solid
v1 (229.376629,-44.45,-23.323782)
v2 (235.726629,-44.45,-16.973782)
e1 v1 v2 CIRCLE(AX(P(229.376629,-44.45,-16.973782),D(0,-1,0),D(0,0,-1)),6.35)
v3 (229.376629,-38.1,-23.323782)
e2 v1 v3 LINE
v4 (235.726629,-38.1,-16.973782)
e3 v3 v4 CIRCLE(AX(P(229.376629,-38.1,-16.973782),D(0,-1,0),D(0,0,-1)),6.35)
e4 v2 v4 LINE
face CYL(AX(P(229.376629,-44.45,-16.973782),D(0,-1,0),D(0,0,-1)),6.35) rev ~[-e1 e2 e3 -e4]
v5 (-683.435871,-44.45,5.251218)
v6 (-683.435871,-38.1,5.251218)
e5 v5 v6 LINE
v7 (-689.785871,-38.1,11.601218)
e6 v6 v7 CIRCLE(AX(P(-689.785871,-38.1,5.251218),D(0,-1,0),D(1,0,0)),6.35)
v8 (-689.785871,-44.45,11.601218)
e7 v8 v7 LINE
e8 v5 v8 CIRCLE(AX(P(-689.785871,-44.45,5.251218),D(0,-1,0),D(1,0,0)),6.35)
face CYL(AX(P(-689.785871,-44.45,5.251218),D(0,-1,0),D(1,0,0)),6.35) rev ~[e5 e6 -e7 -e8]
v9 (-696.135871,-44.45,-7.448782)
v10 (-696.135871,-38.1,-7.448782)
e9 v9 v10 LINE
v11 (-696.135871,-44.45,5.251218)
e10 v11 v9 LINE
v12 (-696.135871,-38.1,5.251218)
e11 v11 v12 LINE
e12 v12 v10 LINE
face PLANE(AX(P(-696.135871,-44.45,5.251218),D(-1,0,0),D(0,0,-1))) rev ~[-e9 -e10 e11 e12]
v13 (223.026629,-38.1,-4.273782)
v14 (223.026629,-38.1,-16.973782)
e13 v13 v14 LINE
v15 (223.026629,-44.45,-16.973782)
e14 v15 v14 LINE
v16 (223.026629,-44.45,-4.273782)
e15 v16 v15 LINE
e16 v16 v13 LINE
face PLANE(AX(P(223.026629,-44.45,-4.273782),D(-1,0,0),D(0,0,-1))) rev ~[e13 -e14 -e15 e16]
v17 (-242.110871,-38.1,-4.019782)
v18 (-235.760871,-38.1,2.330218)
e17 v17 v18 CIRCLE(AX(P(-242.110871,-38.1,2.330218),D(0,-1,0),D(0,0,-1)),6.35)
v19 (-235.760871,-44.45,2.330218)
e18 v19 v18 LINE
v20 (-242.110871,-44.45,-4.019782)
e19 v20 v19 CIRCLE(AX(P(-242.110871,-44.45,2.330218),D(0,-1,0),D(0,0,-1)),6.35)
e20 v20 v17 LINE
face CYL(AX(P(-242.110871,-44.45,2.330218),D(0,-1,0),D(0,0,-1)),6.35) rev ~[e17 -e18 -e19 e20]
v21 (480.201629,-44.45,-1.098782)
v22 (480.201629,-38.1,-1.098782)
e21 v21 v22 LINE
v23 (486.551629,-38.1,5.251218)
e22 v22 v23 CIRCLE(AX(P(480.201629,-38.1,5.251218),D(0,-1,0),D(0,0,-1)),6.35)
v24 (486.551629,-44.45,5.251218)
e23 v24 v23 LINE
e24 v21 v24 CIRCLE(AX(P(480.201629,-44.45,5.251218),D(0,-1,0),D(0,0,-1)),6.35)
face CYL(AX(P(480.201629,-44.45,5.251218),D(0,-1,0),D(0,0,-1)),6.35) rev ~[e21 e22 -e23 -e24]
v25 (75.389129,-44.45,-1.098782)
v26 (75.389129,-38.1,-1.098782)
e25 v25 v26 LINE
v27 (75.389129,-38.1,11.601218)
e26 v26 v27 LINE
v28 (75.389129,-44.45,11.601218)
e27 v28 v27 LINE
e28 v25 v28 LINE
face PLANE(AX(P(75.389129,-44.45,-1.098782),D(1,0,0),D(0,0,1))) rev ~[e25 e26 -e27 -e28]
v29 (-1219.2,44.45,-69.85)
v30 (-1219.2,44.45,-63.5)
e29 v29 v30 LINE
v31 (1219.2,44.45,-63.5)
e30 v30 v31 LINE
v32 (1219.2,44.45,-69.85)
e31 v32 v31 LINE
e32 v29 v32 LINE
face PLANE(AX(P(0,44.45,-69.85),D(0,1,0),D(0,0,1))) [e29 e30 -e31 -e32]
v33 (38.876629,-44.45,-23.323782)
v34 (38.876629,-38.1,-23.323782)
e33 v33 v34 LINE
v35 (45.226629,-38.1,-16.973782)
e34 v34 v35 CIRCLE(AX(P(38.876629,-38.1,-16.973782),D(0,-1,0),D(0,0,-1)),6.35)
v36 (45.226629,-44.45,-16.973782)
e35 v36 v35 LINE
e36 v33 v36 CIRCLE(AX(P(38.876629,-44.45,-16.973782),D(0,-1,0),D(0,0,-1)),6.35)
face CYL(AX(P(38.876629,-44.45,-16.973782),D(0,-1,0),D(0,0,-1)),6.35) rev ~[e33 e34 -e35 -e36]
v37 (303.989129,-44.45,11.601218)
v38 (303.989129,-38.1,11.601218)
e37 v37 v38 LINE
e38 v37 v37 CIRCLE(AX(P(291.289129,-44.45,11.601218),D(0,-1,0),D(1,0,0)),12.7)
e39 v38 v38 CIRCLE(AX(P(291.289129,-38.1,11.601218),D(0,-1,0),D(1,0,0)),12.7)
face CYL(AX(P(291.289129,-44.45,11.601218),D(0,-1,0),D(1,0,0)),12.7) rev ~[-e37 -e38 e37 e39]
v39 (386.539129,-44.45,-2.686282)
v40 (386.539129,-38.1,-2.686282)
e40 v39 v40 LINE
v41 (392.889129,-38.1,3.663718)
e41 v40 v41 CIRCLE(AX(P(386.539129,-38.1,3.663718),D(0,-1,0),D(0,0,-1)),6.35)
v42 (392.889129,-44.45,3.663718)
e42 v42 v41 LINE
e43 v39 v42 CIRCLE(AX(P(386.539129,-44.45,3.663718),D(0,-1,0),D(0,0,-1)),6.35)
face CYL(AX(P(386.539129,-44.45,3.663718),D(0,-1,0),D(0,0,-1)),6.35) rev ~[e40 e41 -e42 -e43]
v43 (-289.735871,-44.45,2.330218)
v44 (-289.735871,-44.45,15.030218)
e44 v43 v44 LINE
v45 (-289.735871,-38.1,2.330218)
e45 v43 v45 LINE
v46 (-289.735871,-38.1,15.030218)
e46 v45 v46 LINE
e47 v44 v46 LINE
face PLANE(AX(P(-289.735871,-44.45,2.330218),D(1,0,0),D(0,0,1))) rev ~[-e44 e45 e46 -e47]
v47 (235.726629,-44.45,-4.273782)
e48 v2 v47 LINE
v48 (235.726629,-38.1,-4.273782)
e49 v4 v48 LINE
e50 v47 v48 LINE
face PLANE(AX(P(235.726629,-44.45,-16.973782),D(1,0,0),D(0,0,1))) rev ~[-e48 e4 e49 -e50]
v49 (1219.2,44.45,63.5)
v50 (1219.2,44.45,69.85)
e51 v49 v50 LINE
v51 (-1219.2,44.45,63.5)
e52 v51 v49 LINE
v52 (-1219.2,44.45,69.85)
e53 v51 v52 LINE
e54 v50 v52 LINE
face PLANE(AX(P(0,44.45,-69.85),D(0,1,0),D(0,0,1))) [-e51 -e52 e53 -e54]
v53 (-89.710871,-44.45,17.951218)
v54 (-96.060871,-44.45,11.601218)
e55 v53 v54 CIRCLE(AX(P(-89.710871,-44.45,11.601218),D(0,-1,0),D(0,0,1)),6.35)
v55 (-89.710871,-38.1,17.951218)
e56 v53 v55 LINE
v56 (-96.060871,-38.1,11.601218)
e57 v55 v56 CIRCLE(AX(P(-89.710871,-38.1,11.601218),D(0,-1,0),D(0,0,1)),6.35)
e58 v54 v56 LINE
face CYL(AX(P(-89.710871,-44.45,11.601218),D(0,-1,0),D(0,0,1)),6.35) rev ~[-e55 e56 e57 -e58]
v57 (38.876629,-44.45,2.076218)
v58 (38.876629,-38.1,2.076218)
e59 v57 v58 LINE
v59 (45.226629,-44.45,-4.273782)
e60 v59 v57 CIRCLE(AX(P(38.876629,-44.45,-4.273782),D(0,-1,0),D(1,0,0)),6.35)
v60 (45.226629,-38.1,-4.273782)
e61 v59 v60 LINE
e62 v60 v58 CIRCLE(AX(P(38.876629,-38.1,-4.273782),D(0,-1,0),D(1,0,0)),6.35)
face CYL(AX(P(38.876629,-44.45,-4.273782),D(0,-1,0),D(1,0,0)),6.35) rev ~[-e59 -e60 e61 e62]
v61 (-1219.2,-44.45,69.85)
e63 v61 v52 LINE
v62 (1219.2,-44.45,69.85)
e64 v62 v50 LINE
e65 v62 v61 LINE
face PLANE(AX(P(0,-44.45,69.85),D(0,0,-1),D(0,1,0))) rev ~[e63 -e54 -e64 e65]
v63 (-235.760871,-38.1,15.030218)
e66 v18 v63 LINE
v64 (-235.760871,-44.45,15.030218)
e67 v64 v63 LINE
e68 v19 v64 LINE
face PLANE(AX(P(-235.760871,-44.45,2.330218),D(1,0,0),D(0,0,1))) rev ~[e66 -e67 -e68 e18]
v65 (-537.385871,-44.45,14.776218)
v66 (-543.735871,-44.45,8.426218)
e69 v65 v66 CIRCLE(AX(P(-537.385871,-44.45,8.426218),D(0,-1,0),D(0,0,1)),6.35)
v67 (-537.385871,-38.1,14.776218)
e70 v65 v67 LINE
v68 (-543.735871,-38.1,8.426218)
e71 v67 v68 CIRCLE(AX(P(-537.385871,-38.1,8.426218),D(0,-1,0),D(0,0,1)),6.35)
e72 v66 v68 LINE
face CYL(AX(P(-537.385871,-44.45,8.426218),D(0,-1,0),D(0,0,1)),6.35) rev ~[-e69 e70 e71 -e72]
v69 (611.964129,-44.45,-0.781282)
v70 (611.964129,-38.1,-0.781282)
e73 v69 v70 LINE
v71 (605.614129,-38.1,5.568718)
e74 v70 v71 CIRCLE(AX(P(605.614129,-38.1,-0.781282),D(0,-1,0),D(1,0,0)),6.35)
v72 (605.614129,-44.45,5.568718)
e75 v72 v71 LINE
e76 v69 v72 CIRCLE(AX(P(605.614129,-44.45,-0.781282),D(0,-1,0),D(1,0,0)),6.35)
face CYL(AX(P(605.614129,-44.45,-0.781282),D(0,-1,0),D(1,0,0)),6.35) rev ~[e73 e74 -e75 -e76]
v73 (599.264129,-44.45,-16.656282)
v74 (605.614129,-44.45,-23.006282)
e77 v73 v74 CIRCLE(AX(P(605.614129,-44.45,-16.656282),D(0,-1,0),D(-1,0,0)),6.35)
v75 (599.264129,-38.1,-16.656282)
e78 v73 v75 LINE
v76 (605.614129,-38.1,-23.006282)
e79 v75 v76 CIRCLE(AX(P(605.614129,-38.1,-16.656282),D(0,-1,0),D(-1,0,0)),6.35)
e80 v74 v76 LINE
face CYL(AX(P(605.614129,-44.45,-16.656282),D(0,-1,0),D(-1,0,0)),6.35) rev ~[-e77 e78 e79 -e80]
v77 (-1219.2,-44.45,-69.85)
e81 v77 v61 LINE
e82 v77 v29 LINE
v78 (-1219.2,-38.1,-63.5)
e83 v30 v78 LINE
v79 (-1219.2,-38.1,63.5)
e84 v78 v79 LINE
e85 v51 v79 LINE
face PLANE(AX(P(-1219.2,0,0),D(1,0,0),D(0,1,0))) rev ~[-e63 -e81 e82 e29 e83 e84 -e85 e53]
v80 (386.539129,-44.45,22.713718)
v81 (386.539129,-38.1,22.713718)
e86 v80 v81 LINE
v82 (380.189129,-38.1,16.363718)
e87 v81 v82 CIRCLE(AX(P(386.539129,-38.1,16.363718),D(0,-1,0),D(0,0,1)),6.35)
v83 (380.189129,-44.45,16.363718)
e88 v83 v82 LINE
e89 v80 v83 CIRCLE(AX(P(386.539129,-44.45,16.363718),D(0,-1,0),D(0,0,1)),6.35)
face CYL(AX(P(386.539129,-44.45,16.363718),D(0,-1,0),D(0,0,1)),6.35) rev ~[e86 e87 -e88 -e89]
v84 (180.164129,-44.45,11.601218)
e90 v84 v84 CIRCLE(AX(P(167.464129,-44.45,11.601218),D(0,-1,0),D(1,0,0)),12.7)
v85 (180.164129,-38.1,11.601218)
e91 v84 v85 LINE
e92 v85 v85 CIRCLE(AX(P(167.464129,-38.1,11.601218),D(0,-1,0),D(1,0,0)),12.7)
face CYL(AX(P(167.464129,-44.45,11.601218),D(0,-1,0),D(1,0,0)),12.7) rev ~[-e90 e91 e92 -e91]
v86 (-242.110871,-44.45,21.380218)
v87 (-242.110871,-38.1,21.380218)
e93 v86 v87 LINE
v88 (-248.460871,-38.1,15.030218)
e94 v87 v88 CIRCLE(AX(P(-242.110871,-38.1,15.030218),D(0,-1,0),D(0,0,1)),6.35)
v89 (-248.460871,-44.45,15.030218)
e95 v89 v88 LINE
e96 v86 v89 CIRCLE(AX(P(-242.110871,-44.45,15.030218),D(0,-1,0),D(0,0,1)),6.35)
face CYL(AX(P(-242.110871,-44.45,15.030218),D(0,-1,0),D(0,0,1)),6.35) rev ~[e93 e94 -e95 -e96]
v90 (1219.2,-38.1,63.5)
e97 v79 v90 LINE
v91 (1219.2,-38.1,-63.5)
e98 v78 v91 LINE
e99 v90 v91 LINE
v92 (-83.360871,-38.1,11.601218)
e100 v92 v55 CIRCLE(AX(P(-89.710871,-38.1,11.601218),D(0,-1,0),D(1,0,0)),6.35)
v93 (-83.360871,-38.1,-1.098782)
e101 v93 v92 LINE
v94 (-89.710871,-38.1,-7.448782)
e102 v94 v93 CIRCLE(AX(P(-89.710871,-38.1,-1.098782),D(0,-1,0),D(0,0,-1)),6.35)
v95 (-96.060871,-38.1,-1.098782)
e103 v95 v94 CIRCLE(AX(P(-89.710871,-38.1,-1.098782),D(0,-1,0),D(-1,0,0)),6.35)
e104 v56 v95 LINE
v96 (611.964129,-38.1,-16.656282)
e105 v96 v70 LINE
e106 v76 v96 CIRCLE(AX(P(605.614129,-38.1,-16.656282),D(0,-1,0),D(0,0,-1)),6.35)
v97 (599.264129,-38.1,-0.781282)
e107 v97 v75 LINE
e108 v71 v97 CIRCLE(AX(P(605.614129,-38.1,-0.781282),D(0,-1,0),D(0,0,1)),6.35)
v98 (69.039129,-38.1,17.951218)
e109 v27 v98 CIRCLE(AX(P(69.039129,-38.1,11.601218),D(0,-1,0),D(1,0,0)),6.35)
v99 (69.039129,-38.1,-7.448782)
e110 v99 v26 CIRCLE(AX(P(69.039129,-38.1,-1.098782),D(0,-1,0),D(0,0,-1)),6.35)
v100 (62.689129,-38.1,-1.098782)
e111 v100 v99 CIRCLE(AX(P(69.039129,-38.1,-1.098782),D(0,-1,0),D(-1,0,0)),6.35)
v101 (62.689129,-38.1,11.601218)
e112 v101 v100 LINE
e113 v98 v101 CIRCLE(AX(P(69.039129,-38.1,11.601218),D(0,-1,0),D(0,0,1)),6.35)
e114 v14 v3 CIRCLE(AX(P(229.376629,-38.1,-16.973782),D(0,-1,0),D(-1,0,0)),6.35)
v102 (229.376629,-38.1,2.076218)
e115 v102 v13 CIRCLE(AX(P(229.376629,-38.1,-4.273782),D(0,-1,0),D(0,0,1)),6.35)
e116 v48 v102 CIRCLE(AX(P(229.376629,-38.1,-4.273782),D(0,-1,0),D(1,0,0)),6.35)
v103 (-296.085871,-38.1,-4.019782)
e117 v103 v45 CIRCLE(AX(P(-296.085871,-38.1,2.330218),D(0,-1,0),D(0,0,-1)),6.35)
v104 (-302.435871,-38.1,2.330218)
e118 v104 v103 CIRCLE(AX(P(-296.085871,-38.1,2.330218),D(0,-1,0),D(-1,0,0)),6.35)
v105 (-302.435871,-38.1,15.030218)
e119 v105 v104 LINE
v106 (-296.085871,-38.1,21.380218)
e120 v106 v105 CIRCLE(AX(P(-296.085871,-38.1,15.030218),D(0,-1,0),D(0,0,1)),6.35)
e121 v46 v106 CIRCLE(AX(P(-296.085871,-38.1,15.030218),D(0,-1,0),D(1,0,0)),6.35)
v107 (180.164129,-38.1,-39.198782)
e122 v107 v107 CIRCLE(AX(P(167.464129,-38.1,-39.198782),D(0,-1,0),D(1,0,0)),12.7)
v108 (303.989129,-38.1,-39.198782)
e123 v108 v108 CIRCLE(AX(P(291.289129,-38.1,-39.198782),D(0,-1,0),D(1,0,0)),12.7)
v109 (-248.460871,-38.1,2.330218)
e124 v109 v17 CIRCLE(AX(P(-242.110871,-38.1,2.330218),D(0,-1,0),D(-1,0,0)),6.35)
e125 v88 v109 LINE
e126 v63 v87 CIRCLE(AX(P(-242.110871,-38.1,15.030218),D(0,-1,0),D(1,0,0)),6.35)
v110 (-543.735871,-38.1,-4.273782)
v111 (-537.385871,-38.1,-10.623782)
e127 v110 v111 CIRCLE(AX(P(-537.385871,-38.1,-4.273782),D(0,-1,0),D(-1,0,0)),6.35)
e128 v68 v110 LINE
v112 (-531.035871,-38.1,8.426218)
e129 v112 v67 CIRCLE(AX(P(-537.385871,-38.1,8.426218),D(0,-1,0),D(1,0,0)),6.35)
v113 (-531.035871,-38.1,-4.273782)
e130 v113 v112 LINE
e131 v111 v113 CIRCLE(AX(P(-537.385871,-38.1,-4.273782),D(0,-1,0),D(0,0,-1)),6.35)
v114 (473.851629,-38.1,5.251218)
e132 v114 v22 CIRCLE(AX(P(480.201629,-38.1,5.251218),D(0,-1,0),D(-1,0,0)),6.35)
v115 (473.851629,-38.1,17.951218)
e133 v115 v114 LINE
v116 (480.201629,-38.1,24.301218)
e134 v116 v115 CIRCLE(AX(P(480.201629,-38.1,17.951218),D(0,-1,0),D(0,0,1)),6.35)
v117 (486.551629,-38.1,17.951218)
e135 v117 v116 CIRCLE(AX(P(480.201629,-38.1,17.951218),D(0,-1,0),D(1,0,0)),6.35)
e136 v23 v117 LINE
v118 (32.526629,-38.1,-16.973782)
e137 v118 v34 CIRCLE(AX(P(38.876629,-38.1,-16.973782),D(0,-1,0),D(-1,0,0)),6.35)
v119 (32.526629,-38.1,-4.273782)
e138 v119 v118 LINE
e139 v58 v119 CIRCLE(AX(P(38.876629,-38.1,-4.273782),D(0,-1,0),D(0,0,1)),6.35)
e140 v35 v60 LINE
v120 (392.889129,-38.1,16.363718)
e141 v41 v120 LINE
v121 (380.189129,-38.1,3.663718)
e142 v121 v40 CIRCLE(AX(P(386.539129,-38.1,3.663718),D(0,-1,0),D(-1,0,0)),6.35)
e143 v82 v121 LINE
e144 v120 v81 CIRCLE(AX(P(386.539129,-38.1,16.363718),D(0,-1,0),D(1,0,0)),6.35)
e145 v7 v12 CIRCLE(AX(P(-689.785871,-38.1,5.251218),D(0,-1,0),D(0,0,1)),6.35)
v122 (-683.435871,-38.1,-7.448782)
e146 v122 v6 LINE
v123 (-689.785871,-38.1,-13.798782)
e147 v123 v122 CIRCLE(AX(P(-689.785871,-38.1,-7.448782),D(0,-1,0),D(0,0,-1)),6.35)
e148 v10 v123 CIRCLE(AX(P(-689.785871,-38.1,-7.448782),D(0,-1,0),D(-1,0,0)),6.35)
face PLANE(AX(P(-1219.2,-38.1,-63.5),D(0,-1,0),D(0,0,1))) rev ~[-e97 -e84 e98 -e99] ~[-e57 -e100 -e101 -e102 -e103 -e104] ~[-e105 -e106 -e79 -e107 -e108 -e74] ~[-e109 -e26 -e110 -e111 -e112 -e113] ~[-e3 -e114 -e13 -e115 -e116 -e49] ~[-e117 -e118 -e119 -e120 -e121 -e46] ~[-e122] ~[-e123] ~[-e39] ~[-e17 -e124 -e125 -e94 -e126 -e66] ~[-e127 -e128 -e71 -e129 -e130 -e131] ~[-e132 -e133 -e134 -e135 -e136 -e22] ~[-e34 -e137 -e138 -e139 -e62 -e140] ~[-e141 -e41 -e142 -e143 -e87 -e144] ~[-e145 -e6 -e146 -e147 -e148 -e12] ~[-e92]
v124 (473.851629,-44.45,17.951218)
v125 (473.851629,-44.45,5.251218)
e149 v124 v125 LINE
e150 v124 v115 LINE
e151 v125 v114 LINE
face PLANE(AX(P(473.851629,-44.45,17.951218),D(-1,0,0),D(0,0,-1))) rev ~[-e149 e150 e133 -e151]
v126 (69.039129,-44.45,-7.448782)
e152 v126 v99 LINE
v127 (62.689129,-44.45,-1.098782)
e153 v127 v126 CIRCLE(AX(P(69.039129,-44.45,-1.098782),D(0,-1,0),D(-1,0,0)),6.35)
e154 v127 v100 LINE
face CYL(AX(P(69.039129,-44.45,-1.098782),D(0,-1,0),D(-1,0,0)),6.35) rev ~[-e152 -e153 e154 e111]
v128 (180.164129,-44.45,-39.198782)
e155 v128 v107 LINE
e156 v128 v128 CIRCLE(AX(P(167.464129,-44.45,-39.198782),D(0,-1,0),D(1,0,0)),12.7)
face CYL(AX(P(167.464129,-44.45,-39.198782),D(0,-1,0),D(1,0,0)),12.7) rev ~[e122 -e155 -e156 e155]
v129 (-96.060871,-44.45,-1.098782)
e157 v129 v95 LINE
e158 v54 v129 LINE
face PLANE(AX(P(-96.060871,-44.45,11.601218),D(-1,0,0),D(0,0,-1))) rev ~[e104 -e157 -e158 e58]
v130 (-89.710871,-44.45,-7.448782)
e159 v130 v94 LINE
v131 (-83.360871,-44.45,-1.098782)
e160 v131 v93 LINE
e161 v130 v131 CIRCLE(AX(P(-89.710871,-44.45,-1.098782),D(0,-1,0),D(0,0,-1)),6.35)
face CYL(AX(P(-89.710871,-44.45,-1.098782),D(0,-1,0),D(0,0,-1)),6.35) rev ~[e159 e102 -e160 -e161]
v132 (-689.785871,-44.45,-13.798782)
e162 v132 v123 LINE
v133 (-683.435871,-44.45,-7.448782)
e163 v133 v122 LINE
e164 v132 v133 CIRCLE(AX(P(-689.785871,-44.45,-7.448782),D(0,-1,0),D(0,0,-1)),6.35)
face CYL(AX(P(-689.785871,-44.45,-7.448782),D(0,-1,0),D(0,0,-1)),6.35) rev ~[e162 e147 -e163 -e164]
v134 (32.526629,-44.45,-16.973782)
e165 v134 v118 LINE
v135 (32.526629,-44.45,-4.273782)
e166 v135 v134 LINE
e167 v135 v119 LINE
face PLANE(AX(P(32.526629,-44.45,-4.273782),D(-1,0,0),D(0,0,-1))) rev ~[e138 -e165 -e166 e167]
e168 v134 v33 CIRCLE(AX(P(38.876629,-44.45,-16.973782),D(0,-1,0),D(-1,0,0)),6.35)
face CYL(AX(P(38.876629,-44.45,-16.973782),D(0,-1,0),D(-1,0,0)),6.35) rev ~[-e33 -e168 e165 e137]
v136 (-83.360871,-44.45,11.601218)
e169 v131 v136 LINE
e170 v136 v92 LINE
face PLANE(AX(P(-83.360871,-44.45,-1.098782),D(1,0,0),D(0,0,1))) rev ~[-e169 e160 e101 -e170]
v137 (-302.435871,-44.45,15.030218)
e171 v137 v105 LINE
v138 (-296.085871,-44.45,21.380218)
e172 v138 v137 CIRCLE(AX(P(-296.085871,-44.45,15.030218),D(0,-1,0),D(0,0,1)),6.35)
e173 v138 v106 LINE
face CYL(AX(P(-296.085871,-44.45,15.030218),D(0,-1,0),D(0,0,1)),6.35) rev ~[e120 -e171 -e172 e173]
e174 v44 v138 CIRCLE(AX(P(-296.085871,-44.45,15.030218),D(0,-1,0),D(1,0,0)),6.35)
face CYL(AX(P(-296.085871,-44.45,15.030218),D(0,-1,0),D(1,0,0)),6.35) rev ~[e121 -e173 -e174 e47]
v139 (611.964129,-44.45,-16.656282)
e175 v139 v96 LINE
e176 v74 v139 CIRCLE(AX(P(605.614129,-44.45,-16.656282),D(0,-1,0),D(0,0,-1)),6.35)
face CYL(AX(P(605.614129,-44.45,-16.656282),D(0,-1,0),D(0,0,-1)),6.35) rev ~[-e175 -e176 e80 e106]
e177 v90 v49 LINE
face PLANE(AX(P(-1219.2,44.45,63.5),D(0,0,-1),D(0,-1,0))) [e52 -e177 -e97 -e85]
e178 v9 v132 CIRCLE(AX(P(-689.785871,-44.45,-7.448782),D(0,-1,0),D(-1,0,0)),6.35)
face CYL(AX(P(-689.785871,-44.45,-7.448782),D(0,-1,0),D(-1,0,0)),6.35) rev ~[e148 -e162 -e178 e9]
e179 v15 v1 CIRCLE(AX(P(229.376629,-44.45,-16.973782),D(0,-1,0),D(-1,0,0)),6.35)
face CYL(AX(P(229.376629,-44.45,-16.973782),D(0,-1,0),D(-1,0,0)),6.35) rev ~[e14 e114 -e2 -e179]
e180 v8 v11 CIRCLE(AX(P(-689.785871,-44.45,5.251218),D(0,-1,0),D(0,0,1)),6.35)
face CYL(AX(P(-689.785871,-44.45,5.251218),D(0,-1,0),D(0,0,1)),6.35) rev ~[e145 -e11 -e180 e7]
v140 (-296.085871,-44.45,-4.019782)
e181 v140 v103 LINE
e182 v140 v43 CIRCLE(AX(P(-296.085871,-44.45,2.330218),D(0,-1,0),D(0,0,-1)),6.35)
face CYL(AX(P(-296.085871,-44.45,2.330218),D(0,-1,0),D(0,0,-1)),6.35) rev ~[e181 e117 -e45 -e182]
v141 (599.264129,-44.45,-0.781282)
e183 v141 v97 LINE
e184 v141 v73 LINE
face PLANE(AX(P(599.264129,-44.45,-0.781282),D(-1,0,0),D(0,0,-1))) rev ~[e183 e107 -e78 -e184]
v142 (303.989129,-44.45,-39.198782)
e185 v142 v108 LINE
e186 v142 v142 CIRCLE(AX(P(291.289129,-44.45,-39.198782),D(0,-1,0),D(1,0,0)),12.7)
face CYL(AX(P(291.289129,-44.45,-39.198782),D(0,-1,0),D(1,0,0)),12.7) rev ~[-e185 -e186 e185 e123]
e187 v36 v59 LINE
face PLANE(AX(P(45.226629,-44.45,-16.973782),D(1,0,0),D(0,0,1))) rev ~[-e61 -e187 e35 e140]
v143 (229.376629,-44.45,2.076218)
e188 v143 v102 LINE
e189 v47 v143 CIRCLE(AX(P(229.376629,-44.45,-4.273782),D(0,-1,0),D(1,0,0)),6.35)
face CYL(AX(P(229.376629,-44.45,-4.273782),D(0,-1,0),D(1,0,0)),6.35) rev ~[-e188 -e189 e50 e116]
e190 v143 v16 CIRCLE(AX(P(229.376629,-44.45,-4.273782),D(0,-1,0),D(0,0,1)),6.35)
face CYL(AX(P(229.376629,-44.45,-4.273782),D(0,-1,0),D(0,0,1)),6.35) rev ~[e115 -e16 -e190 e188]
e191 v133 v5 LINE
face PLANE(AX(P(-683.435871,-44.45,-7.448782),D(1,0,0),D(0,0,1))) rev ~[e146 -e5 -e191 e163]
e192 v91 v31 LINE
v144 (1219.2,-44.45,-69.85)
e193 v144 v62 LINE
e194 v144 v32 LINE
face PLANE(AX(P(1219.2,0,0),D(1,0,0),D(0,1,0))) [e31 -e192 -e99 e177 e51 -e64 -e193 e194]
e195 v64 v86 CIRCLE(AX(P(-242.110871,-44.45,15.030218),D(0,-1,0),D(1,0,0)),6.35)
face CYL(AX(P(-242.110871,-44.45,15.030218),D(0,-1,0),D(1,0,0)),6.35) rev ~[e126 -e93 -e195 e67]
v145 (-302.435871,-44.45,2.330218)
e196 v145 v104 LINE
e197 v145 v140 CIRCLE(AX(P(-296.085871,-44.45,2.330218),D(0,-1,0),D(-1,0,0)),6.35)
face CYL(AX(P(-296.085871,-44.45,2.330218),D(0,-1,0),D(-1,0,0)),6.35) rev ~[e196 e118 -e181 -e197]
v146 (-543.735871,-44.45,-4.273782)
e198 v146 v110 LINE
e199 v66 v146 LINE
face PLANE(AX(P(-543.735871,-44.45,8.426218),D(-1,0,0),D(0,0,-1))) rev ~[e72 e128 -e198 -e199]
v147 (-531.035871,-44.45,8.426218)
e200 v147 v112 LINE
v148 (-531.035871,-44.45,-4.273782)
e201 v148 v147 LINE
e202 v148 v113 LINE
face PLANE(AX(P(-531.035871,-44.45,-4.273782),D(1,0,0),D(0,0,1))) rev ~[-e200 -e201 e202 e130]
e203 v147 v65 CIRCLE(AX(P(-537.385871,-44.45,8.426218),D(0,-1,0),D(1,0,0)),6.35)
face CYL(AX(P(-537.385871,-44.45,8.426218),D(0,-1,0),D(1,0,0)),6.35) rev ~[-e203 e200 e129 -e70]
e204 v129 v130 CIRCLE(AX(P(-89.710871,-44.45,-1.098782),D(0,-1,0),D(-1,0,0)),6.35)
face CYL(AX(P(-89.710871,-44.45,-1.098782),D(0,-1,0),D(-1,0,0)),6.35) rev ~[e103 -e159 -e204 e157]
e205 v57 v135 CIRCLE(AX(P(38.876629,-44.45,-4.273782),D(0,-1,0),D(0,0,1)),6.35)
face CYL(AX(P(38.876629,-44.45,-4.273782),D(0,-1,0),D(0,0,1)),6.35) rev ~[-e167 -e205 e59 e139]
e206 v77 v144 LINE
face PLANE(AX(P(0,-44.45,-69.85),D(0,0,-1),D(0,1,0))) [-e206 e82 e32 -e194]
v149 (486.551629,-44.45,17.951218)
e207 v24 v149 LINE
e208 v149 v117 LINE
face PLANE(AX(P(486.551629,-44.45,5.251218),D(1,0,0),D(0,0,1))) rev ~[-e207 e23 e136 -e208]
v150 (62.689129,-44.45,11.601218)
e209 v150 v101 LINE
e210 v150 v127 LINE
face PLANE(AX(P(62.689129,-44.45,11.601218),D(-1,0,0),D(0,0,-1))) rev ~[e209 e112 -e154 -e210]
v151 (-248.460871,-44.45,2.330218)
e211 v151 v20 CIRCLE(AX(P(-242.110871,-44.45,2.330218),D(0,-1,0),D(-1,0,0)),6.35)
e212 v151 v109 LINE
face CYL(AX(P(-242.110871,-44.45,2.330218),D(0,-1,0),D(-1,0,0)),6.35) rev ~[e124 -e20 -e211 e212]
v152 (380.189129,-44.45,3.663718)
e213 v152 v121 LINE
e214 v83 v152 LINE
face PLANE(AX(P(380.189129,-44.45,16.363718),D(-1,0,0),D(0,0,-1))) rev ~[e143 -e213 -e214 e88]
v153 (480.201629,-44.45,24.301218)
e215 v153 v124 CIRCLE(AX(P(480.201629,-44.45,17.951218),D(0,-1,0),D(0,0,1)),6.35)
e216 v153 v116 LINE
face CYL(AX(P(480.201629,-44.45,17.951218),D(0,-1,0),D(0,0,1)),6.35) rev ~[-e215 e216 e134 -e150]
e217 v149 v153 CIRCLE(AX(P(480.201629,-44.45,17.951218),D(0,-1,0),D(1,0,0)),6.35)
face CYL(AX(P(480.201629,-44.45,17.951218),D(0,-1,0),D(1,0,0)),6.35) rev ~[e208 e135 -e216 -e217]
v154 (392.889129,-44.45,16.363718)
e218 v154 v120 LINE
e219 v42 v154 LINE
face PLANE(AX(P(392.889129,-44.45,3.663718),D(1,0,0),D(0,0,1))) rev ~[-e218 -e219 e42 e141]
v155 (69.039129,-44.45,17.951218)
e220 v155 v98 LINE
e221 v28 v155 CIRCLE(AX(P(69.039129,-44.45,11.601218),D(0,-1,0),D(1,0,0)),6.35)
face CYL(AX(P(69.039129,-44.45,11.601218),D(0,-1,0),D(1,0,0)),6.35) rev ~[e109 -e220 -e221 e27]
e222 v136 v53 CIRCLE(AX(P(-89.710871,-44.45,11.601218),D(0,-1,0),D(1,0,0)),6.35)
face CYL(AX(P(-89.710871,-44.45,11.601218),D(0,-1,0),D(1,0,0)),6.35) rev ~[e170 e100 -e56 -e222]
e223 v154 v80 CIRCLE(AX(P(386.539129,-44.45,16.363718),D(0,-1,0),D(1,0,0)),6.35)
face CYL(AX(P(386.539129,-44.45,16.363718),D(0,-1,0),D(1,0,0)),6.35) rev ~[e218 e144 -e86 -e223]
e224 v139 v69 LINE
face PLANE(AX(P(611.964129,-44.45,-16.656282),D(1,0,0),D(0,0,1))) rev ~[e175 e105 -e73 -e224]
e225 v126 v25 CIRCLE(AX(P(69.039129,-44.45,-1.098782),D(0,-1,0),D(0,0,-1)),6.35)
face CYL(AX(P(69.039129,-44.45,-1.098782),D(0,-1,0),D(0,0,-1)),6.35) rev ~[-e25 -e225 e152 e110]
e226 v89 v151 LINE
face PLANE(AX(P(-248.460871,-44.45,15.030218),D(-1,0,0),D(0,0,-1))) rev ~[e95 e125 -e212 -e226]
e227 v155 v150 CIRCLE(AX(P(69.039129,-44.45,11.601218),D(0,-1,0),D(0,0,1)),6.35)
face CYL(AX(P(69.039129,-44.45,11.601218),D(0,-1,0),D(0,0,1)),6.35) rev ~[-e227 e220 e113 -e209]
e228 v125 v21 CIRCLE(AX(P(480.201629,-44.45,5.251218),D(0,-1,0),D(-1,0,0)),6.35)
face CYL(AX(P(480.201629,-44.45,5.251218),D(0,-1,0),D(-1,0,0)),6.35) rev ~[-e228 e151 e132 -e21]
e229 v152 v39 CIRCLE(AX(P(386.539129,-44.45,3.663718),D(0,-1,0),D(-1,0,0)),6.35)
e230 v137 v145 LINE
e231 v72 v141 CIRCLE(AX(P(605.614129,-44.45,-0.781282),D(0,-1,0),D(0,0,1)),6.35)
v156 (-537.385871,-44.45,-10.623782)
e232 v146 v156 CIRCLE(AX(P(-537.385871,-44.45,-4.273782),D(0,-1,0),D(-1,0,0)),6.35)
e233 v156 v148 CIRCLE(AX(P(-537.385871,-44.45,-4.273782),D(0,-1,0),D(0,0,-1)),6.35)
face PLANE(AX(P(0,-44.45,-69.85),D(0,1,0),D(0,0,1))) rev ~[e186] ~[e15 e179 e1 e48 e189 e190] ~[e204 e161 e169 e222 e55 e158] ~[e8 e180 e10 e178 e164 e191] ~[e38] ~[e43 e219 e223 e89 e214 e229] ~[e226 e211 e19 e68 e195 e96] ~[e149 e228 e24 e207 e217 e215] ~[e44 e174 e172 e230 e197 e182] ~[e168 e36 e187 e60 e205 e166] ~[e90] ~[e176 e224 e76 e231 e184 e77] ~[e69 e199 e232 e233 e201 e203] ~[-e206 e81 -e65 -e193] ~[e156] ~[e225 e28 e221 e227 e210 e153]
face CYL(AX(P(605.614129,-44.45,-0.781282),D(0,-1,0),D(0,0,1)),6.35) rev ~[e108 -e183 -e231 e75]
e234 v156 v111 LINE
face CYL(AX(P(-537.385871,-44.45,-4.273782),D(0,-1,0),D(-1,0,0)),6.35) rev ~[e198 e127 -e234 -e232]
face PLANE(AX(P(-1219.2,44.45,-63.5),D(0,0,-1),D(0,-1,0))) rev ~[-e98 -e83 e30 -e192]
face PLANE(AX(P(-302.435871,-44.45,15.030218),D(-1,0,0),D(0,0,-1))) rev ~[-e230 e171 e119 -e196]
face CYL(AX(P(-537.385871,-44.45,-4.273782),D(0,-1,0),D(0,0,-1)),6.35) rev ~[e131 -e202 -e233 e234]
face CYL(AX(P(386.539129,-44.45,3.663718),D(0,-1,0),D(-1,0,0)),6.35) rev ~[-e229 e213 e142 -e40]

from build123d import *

# Parameters (mm, degrees)
F0_W     = 88.9
F0_H     = 139.7
F1_DEPTH = 1219.2
F2_W     = 82.55
F2_H     = 127
F3_DEPTH = 2438.401
F4_R     = 12.7
F5_DEPTH = 88.901


with BuildPart() as f1:
    # F0 (on Right) → F1 (new body, symmetric)
    with BuildSketch(Plane.YZ):
        Rectangle(F0_W, F0_H)
    extrude(amount=F1_DEPTH, both=True)

    # F2 (on face) → F3 (cut, through all)
    with BuildSketch(Plane(origin=(-1219.2, 0, 0), x_dir=(0, -1, 0), z_dir=(-1, 0, 0))):
        with Locations((-3.175, 0)):
            Rectangle(F2_W, F2_H)
    extrude(amount=-F3_DEPTH, mode=Mode.SUBTRACT)

    # F4 (on face) → F5 (cut, through all)
    with BuildSketch(Plane.XZ.offset(44.45)):
        with BuildLine():
            ThreePointArc((-689.7858705791, 11.6012184261), (-694.2759986397, 9.7413464866), (-696.1358705791, 5.2512184261))
            Line((-696.1358705791, 5.2512184261), (-696.1358705791, -7.4487815739))
            ThreePointArc((-696.1358705791, -7.4487815739), (-694.2759986397, -11.9389096344), (-689.7858705791, -13.7987815739))
            ThreePointArc((-689.7858705791, -13.7987815739), (-685.2957425186, -11.9389096344), (-683.4358705791, -7.4487815739))
            Line((-683.4358705791, -7.4487815739), (-683.4358705791, 5.2512184261))
            ThreePointArc((-683.4358705791, 5.2512184261), (-685.2957425186, 9.7413464866), (-689.7858705791, 11.6012184261))
        make_face()
        with BuildLine():
            ThreePointArc((-537.3858705791, 14.7762184261), (-541.8759986397, 12.9163464866), (-543.7358705791, 8.4262184261))
            Line((-543.7358705791, 8.4262184261), (-543.7358705791, -4.2737815739))
            ThreePointArc((-543.7358705791, -4.2737815739), (-541.8759986397, -8.7639096344), (-537.3858705791, -10.6237815739))
            ThreePointArc((-537.3858705791, -10.6237815739), (-532.8957425186, -8.7639096344), (-531.0358705791, -4.2737815739))
            Line((-531.0358705791, -4.2737815739), (-531.0358705791, 8.4262184261))
            ThreePointArc((-531.0358705791, 8.4262184261), (-532.8957425186, 12.9163464866), (-537.3858705791, 14.7762184261))
        make_face()
        with BuildLine():
            ThreePointArc((-296.0858705791, 21.3802184261), (-300.5759986397, 19.5203464866), (-302.4358705791, 15.0302184261))
            Line((-302.4358705791, 15.0302184261), (-302.4358705791, 2.3302184261))
            ThreePointArc((-302.4358705791, 2.3302184261), (-300.5759986397, -2.1599096344), (-296.0858705791, -4.0197815739))
            ThreePointArc((-296.0858705791, -4.0197815739), (-291.5957425186, -2.1599096344), (-289.7358705791, 2.3302184261))
            Line((-289.7358705791, 2.3302184261), (-289.7358705791, 15.0302184261))
            ThreePointArc((-289.7358705791, 15.0302184261), (-291.5957425186, 19.5203464866), (-296.0858705791, 21.3802184261))
        make_face()
        with BuildLine():
            ThreePointArc((-242.1108705791, 21.3802184261), (-246.6009986397, 19.5203464866), (-248.4608705791, 15.0302184261))
            Line((-248.4608705791, 15.0302184261), (-248.4608705791, 2.3302184261))
            ThreePointArc((-248.4608705791, 2.3302184261), (-246.6009986397, -2.1599096344), (-242.1108705791, -4.0197815739))
            ThreePointArc((-242.1108705791, -4.0197815739), (-237.6207425186, -2.1599096344), (-235.7608705791, 2.3302184261))
            Line((-235.7608705791, 2.3302184261), (-235.7608705791, 15.0302184261))
            ThreePointArc((-235.7608705791, 15.0302184261), (-237.6207425186, 19.5203464866), (-242.1108705791, 21.3802184261))
        make_face()
        with BuildLine():
            ThreePointArc((-89.7108705791, 17.9512184261), (-94.2009986397, 16.0913464866), (-96.0608705791, 11.6012184261))
            Line((-96.0608705791, 11.6012184261), (-96.0608705791, -1.0987815739))
            ThreePointArc((-96.0608705791, -1.0987815739), (-94.2009986397, -5.5889096344), (-89.7108705791, -7.4487815739))
            ThreePointArc((-89.7108705791, -7.4487815739), (-85.2207425186, -5.5889096344), (-83.3608705791, -1.0987815739))
            Line((-83.3608705791, -1.0987815739), (-83.3608705791, 11.6012184261))
            ThreePointArc((-83.3608705791, 11.6012184261), (-85.2207425186, 16.0913464866), (-89.7108705791, 17.9512184261))
        make_face()
        with BuildLine():
            ThreePointArc((38.8766294209, 2.0762184261), (34.3865013603, 0.2163464866), (32.5266294209, -4.2737815739))
            Line((32.5266294209, -4.2737815739), (32.5266294209, -16.9737815739))
            ThreePointArc((32.5266294209, -16.9737815739), (34.3865013603, -21.4639096344), (38.8766294209, -23.3237815739))
            ThreePointArc((38.8766294209, -23.3237815739), (43.3667574814, -21.4639096344), (45.2266294209, -16.9737815739))
            Line((45.2266294209, -16.9737815739), (45.2266294209, -4.2737815739))
            ThreePointArc((45.2266294209, -4.2737815739), (43.3667574814, 0.2163464866), (38.8766294209, 2.0762184261))
        make_face()
        with BuildLine():
            ThreePointArc((69.0391294209, 17.9512184261), (64.5490013603, 16.0913464866), (62.6891294209, 11.6012184261))
            Line((62.6891294209, 11.6012184261), (62.6891294209, -1.0987815739))
            ThreePointArc((62.6891294209, -1.0987815739), (64.5490013603, -5.5889096344), (69.0391294209, -7.4487815739))
            ThreePointArc((69.0391294209, -7.4487815739), (73.5292574814, -5.5889096344), (75.3891294209, -1.0987815739))
            Line((75.3891294209, -1.0987815739), (75.3891294209, 11.6012184261))
            ThreePointArc((75.3891294209, 11.6012184261), (73.5292574814, 16.0913464866), (69.0391294209, 17.9512184261))
        make_face()
        with BuildLine():
            ThreePointArc((229.3766294209, 2.0762184261), (224.8865013603, 0.2163464866), (223.0266294209, -4.2737815739))
            Line((223.0266294209, -4.2737815739), (223.0266294209, -16.9737815739))
            ThreePointArc((223.0266294209, -16.9737815739), (224.8865013603, -21.4639096344), (229.3766294209, -23.3237815739))
            ThreePointArc((229.3766294209, -23.3237815739), (233.8667574814, -21.4639096344), (235.7266294209, -16.9737815739))
            Line((235.7266294209, -16.9737815739), (235.7266294209, -4.2737815739))
            ThreePointArc((235.7266294209, -4.2737815739), (233.8667574814, 0.2163464866), (229.3766294209, 2.0762184261))
        make_face()
        with BuildLine():
            ThreePointArc((386.5391294209, 22.7137184261), (382.0490013603, 20.8538464866), (380.1891294209, 16.3637184261))
            Line((380.1891294209, 16.3637184261), (380.1891294209, 3.6637184261))
            ThreePointArc((380.1891294209, 3.6637184261), (382.0490013603, -0.8264096344), (386.5391294209, -2.6862815739))
            ThreePointArc((386.5391294209, -2.6862815739), (391.0292574814, -0.8264096344), (392.8891294209, 3.6637184261))
            Line((392.8891294209, 3.6637184261), (392.8891294209, 16.3637184261))
            ThreePointArc((392.8891294209, 16.3637184261), (391.0292574814, 20.8538464866), (386.5391294209, 22.7137184261))
        make_face()
        with BuildLine():
            ThreePointArc((480.2016294209, 24.3012184261), (475.7115013603, 22.4413464866), (473.8516294209, 17.9512184261))
            Line((473.8516294209, 17.9512184261), (473.8516294209, 5.2512184261))
            ThreePointArc((473.8516294209, 5.2512184261), (475.7115013603, 0.7610903656), (480.2016294209, -1.0987815739))
            ThreePointArc((480.2016294209, -1.0987815739), (484.6917574814, 0.7610903656), (486.5516294209, 5.2512184261))
            Line((486.5516294209, 5.2512184261), (486.5516294209, 17.9512184261))
            ThreePointArc((486.5516294209, 17.9512184261), (484.6917574814, 22.4413464866), (480.2016294209, 24.3012184261))
        make_face()
        with BuildLine():
            ThreePointArc((605.6141294209, 5.5687184261), (601.1240013603, 3.7088464866), (599.2641294209, -0.7812815739))
            Line((599.2641294209, -0.7812815739), (599.2641294209, -16.6562815739))
            ThreePointArc((599.2641294209, -16.6562815739), (601.1240013603, -21.1464096344), (605.6141294209, -23.0062815739))
            ThreePointArc((605.6141294209, -23.0062815739), (610.1042574814, -21.1464096344), (611.9641294209, -16.6562815739))
            Line((611.9641294209, -16.6562815739), (611.9641294209, -0.7812815739))
            ThreePointArc((611.9641294209, -0.7812815739), (610.1042574814, 3.7088464866), (605.6141294209, 5.5687184261))
        make_face()
        with Locations((167.4641294209, 11.6012184261)):
            Circle(F4_R)
        with Locations((291.2891294209, 11.6012184261)):
            Circle(F4_R)
        with Locations((291.2891294209, -39.1987815739)):
            Circle(F4_R)
        with Locations((167.4641294209, -39.1987815739)):
            Circle(F4_R)
    extrude(amount=-F5_DEPTH, mode=Mode.SUBTRACT)


solid = f1.part
